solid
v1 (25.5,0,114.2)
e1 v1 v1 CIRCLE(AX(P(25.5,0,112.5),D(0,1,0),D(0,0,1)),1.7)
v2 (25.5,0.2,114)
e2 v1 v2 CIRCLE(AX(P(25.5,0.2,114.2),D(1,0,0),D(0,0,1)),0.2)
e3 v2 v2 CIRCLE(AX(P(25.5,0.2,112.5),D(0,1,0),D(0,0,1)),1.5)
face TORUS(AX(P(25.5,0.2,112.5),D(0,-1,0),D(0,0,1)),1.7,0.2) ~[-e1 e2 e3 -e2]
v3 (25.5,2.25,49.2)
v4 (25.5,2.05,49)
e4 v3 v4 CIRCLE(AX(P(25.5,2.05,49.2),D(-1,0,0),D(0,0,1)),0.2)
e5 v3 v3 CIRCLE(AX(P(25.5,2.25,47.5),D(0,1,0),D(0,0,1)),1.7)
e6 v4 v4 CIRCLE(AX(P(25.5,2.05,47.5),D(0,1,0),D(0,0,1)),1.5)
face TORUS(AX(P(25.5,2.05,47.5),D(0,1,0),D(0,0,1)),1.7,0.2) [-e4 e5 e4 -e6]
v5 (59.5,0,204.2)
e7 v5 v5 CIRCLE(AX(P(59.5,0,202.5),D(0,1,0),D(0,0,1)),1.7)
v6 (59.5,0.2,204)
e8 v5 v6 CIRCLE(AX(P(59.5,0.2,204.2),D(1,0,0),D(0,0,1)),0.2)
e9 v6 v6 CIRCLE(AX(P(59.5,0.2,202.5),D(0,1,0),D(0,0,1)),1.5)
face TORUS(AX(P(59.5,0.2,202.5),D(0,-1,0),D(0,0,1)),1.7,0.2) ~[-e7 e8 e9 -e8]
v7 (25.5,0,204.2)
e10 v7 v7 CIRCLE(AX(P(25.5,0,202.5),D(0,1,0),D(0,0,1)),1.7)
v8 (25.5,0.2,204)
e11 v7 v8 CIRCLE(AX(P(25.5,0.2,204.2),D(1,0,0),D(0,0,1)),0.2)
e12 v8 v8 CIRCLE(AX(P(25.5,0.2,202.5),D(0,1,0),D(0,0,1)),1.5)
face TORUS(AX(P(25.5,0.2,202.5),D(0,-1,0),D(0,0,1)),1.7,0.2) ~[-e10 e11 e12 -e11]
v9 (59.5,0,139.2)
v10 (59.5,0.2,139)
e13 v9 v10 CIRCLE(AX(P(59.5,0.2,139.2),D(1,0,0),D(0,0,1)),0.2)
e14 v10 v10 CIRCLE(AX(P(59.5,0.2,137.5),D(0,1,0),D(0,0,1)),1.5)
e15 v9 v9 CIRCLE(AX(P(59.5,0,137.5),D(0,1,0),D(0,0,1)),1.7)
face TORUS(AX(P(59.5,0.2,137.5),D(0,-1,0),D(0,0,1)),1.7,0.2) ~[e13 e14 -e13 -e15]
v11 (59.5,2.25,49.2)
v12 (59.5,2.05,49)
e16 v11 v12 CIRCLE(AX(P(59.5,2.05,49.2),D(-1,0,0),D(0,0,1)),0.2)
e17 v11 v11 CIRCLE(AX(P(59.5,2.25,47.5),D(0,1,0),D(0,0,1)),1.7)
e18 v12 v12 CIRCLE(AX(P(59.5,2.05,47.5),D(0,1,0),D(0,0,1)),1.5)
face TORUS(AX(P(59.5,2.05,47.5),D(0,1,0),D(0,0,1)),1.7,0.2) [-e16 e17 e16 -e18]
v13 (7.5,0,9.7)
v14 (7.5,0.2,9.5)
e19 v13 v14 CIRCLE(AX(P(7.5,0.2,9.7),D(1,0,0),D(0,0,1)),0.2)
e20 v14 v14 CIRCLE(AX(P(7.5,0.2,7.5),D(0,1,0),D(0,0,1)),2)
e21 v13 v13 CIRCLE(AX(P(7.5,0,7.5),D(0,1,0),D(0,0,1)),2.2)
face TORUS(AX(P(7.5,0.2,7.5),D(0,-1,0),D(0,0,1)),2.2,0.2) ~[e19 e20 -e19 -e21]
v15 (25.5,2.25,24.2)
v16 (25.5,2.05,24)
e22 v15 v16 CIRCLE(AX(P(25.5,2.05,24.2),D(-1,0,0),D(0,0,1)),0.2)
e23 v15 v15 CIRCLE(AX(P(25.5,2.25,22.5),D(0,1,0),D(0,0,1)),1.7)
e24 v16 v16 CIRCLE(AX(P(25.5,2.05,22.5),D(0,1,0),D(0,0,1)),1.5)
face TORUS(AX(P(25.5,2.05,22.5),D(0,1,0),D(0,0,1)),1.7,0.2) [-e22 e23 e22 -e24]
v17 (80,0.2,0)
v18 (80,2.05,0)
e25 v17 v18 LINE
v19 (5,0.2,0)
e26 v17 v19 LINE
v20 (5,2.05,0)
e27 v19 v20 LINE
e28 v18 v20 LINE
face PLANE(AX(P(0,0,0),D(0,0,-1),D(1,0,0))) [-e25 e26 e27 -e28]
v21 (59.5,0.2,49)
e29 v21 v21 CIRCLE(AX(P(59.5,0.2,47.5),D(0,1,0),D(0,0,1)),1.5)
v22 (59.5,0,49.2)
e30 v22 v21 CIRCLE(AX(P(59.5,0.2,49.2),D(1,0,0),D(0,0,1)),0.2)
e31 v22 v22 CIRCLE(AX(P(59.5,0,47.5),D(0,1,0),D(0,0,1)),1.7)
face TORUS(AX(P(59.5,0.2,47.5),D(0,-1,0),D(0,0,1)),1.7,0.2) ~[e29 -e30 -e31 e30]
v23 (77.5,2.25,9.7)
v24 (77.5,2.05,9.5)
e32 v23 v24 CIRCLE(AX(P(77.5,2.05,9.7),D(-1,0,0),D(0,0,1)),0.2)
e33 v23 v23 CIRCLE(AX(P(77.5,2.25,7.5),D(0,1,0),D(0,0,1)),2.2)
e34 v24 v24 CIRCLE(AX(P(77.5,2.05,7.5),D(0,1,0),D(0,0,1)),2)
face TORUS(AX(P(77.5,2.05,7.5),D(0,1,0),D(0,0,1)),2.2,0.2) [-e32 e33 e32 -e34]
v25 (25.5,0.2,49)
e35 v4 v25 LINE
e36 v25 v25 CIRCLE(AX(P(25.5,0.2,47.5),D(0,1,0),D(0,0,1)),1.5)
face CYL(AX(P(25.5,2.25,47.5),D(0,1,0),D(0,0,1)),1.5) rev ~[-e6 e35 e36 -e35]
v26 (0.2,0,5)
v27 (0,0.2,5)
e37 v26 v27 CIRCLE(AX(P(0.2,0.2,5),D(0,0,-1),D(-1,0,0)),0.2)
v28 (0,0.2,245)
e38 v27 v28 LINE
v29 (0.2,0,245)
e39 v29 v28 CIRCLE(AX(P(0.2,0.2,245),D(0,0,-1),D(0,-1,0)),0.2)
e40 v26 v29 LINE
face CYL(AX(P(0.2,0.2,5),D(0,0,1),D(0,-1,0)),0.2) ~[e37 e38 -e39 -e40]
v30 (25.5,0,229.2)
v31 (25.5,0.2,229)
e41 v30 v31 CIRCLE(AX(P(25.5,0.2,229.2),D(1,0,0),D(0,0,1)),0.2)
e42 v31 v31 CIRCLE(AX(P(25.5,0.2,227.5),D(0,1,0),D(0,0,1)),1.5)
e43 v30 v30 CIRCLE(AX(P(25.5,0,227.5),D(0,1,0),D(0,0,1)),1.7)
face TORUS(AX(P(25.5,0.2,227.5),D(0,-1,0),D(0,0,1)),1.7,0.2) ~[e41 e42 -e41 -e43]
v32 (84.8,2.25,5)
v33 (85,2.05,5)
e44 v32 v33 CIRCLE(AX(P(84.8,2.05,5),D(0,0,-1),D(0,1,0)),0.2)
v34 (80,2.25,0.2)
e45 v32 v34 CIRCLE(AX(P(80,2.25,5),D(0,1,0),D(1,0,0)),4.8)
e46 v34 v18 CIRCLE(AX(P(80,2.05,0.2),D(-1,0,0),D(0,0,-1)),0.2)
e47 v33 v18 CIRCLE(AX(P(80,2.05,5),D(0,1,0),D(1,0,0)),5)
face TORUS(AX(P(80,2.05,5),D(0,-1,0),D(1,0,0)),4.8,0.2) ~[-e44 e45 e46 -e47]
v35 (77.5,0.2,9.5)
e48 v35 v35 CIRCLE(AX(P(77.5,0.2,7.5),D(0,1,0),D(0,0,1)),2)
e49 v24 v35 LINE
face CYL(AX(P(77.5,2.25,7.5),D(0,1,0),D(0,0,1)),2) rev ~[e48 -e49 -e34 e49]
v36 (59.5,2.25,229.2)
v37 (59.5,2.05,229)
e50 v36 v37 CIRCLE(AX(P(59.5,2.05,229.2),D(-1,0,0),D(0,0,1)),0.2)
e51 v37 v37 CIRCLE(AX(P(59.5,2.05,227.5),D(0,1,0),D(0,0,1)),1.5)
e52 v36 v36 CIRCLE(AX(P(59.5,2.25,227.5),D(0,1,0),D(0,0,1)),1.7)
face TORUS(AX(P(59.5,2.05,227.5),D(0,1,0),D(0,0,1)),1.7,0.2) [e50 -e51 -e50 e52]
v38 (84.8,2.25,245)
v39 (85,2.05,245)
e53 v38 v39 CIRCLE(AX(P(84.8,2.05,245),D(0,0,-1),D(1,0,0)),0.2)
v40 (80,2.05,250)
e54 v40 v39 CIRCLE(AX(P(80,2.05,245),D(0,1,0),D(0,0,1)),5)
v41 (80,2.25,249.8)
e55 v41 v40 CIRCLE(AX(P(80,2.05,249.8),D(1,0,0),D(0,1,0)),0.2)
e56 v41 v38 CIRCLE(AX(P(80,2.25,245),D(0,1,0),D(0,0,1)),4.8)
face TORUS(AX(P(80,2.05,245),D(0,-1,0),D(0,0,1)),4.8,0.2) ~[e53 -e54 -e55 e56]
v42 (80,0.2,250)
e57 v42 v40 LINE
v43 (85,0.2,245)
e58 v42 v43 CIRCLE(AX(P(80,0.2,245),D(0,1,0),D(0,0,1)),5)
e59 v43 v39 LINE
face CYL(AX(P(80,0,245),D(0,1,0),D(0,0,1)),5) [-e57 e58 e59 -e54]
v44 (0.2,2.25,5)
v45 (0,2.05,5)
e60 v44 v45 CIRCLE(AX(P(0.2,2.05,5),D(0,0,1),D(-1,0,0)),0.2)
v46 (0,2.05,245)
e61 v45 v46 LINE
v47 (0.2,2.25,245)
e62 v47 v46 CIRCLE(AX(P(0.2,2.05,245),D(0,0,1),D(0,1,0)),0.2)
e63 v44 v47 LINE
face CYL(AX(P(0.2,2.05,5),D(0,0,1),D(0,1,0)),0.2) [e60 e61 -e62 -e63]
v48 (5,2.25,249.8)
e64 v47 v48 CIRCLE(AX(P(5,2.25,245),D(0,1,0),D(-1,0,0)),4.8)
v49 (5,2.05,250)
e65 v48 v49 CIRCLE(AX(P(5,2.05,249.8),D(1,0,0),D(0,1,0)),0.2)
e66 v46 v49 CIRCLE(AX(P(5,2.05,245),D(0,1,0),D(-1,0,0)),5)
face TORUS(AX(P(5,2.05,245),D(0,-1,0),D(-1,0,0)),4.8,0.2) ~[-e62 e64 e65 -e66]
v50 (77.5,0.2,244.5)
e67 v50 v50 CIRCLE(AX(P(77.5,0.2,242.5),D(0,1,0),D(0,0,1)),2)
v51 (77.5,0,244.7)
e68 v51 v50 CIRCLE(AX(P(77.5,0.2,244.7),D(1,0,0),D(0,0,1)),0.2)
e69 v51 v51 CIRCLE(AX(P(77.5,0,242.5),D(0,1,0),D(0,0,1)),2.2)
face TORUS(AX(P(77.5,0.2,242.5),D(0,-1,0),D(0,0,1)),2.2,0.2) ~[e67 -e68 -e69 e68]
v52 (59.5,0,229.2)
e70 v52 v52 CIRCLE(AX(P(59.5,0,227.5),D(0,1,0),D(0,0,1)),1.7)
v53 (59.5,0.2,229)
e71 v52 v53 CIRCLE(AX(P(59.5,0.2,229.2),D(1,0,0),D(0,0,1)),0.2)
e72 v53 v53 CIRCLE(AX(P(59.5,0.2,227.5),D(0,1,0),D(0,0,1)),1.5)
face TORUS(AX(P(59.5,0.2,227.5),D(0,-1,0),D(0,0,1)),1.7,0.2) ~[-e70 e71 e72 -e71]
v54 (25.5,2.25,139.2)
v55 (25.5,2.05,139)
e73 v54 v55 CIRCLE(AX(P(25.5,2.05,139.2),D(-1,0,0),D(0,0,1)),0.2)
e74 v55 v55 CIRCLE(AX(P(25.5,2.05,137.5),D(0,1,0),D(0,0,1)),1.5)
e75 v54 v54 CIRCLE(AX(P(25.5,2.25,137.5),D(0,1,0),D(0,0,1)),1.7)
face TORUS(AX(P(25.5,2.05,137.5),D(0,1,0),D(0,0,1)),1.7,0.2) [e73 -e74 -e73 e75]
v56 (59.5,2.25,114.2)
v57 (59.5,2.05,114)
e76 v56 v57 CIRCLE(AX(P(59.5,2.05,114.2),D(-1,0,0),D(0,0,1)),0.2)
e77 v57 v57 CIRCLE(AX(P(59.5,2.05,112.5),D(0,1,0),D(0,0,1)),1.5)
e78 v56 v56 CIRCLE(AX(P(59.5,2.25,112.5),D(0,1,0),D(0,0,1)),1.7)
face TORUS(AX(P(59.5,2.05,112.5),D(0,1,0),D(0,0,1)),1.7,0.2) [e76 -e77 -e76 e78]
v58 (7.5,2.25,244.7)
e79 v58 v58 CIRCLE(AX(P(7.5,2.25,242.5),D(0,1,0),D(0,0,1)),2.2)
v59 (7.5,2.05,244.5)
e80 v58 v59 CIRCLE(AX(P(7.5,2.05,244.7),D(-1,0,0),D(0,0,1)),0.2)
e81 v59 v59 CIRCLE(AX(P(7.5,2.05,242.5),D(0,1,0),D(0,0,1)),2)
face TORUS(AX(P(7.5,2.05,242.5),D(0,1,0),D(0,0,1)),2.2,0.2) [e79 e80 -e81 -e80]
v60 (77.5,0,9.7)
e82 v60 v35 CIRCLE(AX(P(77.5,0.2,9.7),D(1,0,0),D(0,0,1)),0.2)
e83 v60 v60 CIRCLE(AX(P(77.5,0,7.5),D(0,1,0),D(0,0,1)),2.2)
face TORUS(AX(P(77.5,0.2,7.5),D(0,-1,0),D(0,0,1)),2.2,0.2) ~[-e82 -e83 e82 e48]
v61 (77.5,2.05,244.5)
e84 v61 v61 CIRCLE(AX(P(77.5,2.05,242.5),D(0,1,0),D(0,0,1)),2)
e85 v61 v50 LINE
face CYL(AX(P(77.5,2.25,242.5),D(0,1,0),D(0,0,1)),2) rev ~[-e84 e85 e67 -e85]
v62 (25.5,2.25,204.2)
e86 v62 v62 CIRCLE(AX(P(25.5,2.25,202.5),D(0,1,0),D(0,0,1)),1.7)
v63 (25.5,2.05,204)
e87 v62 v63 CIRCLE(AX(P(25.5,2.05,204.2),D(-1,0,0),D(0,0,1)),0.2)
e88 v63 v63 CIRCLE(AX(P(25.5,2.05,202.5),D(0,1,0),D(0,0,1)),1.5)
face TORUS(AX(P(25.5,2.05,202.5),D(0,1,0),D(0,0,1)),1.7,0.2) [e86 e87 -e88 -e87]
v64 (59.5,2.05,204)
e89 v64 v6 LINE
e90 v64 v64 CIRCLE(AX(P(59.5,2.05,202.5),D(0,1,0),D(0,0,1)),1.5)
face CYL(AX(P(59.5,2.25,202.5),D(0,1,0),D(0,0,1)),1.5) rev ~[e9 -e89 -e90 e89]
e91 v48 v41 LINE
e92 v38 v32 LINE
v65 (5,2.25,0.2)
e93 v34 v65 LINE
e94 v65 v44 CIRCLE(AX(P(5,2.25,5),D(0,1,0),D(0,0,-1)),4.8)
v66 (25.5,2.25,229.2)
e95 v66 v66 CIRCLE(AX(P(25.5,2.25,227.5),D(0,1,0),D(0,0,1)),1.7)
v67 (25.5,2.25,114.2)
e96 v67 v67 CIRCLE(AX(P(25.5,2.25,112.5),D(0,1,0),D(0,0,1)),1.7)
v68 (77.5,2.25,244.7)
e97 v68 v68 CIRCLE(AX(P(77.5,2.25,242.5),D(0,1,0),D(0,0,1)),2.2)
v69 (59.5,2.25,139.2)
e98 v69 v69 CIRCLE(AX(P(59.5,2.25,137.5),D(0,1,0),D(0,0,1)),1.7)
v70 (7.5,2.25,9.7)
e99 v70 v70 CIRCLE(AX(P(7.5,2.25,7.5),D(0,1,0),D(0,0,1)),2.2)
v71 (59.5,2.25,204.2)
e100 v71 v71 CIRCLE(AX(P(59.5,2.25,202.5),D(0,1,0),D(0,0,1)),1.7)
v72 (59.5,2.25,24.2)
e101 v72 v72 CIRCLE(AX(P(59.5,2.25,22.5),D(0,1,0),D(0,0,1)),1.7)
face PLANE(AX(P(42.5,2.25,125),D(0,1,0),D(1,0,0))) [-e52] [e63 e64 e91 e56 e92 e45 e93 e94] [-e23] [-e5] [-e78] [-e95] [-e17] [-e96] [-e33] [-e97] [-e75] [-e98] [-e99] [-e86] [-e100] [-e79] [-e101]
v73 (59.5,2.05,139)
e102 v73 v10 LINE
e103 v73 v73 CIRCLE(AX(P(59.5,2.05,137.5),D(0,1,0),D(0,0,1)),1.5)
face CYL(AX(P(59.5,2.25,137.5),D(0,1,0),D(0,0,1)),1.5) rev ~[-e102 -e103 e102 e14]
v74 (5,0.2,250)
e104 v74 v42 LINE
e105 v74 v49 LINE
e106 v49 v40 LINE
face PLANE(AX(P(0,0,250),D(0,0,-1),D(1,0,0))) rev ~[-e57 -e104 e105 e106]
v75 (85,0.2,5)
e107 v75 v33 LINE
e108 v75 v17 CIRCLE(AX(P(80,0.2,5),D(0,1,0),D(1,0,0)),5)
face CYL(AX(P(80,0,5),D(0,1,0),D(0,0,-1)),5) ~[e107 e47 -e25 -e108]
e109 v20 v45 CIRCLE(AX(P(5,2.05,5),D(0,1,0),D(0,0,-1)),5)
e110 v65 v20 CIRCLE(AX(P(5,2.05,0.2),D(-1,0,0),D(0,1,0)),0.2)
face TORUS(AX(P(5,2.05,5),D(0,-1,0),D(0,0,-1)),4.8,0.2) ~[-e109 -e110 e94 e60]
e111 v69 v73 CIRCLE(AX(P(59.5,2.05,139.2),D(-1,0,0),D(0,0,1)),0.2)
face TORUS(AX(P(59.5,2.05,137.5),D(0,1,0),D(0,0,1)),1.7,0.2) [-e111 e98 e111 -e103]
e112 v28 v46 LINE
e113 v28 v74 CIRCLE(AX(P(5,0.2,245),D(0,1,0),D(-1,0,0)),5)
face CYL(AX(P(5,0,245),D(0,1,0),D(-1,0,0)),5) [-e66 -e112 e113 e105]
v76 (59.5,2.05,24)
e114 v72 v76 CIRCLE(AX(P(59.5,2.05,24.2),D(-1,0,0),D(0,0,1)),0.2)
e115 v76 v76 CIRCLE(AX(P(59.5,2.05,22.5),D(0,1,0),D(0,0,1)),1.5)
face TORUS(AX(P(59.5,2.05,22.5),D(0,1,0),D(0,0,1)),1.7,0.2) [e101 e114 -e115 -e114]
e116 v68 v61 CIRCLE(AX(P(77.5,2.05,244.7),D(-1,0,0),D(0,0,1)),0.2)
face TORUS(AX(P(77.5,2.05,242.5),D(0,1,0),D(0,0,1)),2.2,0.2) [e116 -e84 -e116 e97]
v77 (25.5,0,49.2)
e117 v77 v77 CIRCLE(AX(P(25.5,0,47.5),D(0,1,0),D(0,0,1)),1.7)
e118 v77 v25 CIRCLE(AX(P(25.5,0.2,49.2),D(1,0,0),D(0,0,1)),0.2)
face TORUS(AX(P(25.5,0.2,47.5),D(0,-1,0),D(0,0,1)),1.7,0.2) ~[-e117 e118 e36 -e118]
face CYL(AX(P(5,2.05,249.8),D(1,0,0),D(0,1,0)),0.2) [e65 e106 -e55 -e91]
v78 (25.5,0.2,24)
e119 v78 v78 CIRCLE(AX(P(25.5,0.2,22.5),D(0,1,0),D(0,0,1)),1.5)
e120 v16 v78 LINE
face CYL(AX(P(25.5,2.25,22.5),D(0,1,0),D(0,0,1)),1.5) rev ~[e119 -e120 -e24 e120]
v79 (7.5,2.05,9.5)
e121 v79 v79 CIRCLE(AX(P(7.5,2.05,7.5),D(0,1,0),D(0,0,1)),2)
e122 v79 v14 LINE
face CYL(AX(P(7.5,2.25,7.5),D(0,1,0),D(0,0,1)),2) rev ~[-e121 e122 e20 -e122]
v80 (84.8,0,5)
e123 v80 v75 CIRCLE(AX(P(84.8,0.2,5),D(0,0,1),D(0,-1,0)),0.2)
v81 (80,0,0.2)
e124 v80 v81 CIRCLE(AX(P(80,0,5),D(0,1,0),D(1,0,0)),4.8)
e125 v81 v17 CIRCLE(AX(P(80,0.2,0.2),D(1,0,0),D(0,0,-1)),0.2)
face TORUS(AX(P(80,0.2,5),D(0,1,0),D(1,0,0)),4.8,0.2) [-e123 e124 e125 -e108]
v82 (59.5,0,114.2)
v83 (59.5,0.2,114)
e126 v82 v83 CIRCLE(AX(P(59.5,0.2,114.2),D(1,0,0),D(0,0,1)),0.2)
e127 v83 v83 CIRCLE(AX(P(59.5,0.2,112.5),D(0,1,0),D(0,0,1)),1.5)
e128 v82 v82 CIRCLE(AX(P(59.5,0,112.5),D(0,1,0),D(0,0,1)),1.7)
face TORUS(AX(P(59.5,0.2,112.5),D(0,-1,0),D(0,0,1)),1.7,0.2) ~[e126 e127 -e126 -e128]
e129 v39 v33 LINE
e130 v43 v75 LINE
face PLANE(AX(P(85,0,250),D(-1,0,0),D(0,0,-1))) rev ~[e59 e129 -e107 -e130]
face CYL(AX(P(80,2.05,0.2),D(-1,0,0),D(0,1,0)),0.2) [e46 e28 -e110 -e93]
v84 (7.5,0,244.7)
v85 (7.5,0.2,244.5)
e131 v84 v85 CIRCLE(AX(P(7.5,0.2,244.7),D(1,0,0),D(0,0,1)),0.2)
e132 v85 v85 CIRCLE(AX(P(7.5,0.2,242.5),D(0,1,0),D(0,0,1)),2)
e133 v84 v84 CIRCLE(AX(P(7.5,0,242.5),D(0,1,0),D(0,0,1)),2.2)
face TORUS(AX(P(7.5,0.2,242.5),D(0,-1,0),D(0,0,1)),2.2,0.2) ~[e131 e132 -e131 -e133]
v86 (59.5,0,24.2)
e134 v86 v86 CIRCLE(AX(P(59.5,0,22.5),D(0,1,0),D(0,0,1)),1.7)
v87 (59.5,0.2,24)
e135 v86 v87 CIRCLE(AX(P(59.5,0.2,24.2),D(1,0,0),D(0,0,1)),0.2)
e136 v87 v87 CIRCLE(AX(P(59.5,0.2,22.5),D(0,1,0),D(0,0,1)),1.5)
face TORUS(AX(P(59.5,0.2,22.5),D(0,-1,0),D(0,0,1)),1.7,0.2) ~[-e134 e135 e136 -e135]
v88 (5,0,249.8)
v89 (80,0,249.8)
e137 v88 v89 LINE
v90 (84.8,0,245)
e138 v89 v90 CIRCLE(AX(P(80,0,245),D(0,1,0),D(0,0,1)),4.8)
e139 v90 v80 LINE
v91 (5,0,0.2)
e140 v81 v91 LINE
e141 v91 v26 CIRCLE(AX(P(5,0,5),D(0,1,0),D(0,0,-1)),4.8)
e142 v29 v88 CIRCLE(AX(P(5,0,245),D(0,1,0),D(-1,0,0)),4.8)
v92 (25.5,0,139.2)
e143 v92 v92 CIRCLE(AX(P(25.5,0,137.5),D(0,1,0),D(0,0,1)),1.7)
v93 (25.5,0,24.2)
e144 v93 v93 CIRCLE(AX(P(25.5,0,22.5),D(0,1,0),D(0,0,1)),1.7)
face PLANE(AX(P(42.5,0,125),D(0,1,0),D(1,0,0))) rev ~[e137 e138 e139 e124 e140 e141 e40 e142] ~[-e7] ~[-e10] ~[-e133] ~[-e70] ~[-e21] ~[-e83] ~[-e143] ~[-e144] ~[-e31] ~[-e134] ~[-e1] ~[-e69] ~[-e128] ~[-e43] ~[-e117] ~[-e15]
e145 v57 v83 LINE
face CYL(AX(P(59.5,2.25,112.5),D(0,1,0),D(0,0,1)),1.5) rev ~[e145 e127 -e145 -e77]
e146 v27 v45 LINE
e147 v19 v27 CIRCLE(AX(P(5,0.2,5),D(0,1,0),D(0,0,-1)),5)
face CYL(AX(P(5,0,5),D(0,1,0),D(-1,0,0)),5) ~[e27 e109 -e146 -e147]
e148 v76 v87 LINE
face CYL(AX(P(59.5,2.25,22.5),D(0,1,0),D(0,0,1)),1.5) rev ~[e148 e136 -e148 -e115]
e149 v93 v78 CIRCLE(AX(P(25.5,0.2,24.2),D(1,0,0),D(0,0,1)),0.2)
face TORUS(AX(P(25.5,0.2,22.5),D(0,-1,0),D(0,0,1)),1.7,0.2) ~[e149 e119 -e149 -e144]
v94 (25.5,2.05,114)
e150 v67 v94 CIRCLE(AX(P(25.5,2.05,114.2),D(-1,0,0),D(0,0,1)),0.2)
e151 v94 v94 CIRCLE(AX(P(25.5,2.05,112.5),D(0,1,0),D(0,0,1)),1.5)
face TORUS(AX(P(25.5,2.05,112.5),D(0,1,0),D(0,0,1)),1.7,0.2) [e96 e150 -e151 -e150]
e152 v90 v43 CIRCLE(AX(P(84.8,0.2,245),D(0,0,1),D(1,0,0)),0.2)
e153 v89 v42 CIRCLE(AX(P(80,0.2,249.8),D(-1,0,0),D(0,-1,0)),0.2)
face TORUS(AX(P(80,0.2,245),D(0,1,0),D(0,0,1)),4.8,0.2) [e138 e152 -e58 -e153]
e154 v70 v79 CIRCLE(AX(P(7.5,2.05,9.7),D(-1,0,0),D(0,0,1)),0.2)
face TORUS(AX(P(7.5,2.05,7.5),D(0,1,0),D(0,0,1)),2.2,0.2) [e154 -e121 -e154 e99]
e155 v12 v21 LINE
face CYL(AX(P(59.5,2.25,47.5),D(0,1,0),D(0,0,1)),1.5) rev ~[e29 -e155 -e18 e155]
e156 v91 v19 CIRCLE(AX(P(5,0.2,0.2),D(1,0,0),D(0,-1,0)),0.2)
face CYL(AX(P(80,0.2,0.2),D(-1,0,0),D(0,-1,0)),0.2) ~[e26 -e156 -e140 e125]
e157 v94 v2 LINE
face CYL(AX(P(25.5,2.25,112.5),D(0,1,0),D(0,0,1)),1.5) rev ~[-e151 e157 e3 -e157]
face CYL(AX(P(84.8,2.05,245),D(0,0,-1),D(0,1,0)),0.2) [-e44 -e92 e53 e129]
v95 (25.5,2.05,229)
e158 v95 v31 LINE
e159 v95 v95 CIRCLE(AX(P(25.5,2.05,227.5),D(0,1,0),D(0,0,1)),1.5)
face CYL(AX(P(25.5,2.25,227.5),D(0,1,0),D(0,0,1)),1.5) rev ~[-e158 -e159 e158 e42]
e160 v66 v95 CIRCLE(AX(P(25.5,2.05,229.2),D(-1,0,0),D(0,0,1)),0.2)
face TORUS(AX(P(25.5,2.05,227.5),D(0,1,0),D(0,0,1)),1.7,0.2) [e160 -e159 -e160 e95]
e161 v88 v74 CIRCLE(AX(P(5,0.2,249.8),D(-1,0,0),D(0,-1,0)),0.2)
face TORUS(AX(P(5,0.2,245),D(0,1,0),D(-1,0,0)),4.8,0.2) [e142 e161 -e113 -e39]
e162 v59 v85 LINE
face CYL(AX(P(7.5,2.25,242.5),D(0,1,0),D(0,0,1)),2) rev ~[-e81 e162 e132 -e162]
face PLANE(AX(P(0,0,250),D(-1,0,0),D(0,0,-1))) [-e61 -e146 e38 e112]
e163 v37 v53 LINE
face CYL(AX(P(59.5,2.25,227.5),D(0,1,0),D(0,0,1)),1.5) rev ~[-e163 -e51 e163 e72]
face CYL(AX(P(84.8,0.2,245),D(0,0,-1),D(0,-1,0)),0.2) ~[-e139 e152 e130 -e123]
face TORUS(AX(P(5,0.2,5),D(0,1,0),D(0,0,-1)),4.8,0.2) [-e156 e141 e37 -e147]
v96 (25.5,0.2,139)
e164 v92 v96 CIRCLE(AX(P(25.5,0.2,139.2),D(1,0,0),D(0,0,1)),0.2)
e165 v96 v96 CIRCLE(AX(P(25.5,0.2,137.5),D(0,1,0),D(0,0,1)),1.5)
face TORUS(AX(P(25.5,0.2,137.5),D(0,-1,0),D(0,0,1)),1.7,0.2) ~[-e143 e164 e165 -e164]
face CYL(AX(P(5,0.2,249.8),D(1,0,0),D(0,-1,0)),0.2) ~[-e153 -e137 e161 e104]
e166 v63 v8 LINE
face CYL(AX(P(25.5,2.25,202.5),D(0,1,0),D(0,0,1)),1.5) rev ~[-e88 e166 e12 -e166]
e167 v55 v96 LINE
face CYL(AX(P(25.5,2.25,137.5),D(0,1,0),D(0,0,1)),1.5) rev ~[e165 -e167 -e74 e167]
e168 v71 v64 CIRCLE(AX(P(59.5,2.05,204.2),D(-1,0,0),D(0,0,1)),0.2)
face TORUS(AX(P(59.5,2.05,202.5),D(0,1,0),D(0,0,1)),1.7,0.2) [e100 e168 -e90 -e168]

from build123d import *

# Parameters (mm, degrees)
SKETCH1_W           = 85
SKETCH1_H           = 250
BOSS_EXTRUDE1_DEPTH = 2.25
SKETCH4_R           = 2
SKETCH4_R_2         = 1.5
CUT_EXTRUDE1_DEPTH  = 2.25
FILLET1_R           = 5
FILLET3_R           = 0.2


with BuildPart() as part:
    # Sketch1 → Boss-Extrude1 (new body)
    with BuildSketch(Plane(origin=(0, 0, 0), x_dir=(1, 0, 0), z_dir=(0, 1, 0))):
        with Locations((42.5, -125)):
            Rectangle(SKETCH1_W, SKETCH1_H)
    extrude(amount=BOSS_EXTRUDE1_DEPTH)

    # Sketch4 → Cut-Extrude1 (cut)
    with BuildSketch(Plane(origin=(0, 2.25, 0), x_dir=(1, 0, 0), z_dir=(0, 1, 0))):
        with Locations(Location((7.5, -7.5, 0), (0, 0, 270))):
            Circle(SKETCH4_R)
        with Locations(Location((77.5, -7.5, 0), (0, 0, 270))):
            Circle(SKETCH4_R)
        with Locations(Location((25.5, -22.5, 0), (0, 0, 270))):
            Circle(SKETCH4_R_2)
        with Locations(Location((59.5, -22.5, 0), (0, 0, 270))):
            Circle(SKETCH4_R_2)
        with Locations(Location((25.5, -47.5, 0), (0, 0, 270))):
            Circle(SKETCH4_R_2)
        with Locations(Location((59.5, -47.5, 0), (0, 0, 270))):
            Circle(SKETCH4_R_2)
        with Locations(Location((25.5, -112.5, 0), (0, 0, 270))):
            Circle(SKETCH4_R_2)
        with Locations(Location((59.5, -112.5, 0), (0, 0, 270))):
            Circle(SKETCH4_R_2)
        with Locations(Location((25.5, -137.5, 0), (0, 0, 270))):
            Circle(SKETCH4_R_2)
        with Locations(Location((59.5, -137.5, 0), (0, 0, 270))):
            Circle(SKETCH4_R_2)
        with Locations(Location((59.5, -202.5, 0), (0, 0, 270))):
            Circle(SKETCH4_R_2)
        with Locations(Location((25.5, -202.5, 0), (0, 0, 270))):
            Circle(SKETCH4_R_2)
        with Locations(Location((59.5, -227.5, 0), (0, 0, 270))):
            Circle(SKETCH4_R_2)
        with Locations(Location((25.5, -227.5, 0), (0, 0, 270))):
            Circle(SKETCH4_R_2)
        with Locations(Location((77.5, -242.5, 0), (0, 0, 270))):
            Circle(SKETCH4_R)
        with Locations(Location((7.5, -242.5, 0), (0, 0, 270))):
            Circle(SKETCH4_R)
    extrude(amount=-CUT_EXTRUDE1_DEPTH, mode=Mode.SUBTRACT)

    # Fillet1
    fillet1_edges = [part.edges().sort_by_distance(p)[0] for p in [
        (0, 1.125, 0),
        (85, 1.125, 0),
        (85, 1.125, 250),
        (0, 1.125, 250),
    ]]
    fillet(fillet1_edges, radius=FILLET1_R)

    # Fillet3
    fillet3_edges = [part.edges().sort_by_distance(p)[0] for p in [
        (59.5, 2.25, 46),
        (59.5, 0, 46),
        (25.5, 2.25, 111),
        (25.5, 0, 111),
        (59.5, 2.25, 111),
        (59.5, 0, 111),
        (25.5, 2.25, 136),
        (25.5, 0, 136),
        (77.5, 2.25, 5.5),
        (77.5, 0, 5.5),
        (25.5, 2.25, 21),
        (25.5, 0, 21),
        (59.5, 2.25, 21),
        (59.5, 0, 21),
        (25.5, 2.25, 46),
        (25.5, 0, 46),
        (7.5, 2.25, 240.5),
        (7.5, 0, 240.5),
        (77.5, 2.25, 240.5),
        (77.5, 0, 240.5),
        (25.5, 2.25, 226),
        (25.5, 0, 226),
        (59.5, 2.25, 136),
        (59.5, 0, 136),
        (59.5, 2.25, 201),
        (59.5, 0, 201),
        (25.5, 2.25, 201),
        (25.5, 0, 201),
        (59.5, 2.25, 226),
        (59.5, 0, 226),
        (7.5, 2.25, 5.5),
        (7.5, 0, 5.5),
        (42.5, 0, 250),
        (42.5, 2.25, 250),
        (0, 0, 125),
        (42.5, 0, 0),
        (85, 0, 125),
        (83.535533906, 0, 248.535533906),
        (83.535533906, 0, 1.464466094),
        (1.464466094, 0, 1.464466094),
        (1.464466094, 0, 248.535533906),
        (0, 2.25, 125),
        (85, 2.25, 125),
        (42.5, 2.25, 0),
        (83.535533906, 2.25, 248.535533906),
        (83.535533906, 2.25, 1.464466094),
        (1.464466094, 2.25, 1.464466094),
        (1.464466094, 2.25, 248.535533906),
    ]]
    fillet(fillet3_edges, radius=FILLET3_R)


solid = part.part
